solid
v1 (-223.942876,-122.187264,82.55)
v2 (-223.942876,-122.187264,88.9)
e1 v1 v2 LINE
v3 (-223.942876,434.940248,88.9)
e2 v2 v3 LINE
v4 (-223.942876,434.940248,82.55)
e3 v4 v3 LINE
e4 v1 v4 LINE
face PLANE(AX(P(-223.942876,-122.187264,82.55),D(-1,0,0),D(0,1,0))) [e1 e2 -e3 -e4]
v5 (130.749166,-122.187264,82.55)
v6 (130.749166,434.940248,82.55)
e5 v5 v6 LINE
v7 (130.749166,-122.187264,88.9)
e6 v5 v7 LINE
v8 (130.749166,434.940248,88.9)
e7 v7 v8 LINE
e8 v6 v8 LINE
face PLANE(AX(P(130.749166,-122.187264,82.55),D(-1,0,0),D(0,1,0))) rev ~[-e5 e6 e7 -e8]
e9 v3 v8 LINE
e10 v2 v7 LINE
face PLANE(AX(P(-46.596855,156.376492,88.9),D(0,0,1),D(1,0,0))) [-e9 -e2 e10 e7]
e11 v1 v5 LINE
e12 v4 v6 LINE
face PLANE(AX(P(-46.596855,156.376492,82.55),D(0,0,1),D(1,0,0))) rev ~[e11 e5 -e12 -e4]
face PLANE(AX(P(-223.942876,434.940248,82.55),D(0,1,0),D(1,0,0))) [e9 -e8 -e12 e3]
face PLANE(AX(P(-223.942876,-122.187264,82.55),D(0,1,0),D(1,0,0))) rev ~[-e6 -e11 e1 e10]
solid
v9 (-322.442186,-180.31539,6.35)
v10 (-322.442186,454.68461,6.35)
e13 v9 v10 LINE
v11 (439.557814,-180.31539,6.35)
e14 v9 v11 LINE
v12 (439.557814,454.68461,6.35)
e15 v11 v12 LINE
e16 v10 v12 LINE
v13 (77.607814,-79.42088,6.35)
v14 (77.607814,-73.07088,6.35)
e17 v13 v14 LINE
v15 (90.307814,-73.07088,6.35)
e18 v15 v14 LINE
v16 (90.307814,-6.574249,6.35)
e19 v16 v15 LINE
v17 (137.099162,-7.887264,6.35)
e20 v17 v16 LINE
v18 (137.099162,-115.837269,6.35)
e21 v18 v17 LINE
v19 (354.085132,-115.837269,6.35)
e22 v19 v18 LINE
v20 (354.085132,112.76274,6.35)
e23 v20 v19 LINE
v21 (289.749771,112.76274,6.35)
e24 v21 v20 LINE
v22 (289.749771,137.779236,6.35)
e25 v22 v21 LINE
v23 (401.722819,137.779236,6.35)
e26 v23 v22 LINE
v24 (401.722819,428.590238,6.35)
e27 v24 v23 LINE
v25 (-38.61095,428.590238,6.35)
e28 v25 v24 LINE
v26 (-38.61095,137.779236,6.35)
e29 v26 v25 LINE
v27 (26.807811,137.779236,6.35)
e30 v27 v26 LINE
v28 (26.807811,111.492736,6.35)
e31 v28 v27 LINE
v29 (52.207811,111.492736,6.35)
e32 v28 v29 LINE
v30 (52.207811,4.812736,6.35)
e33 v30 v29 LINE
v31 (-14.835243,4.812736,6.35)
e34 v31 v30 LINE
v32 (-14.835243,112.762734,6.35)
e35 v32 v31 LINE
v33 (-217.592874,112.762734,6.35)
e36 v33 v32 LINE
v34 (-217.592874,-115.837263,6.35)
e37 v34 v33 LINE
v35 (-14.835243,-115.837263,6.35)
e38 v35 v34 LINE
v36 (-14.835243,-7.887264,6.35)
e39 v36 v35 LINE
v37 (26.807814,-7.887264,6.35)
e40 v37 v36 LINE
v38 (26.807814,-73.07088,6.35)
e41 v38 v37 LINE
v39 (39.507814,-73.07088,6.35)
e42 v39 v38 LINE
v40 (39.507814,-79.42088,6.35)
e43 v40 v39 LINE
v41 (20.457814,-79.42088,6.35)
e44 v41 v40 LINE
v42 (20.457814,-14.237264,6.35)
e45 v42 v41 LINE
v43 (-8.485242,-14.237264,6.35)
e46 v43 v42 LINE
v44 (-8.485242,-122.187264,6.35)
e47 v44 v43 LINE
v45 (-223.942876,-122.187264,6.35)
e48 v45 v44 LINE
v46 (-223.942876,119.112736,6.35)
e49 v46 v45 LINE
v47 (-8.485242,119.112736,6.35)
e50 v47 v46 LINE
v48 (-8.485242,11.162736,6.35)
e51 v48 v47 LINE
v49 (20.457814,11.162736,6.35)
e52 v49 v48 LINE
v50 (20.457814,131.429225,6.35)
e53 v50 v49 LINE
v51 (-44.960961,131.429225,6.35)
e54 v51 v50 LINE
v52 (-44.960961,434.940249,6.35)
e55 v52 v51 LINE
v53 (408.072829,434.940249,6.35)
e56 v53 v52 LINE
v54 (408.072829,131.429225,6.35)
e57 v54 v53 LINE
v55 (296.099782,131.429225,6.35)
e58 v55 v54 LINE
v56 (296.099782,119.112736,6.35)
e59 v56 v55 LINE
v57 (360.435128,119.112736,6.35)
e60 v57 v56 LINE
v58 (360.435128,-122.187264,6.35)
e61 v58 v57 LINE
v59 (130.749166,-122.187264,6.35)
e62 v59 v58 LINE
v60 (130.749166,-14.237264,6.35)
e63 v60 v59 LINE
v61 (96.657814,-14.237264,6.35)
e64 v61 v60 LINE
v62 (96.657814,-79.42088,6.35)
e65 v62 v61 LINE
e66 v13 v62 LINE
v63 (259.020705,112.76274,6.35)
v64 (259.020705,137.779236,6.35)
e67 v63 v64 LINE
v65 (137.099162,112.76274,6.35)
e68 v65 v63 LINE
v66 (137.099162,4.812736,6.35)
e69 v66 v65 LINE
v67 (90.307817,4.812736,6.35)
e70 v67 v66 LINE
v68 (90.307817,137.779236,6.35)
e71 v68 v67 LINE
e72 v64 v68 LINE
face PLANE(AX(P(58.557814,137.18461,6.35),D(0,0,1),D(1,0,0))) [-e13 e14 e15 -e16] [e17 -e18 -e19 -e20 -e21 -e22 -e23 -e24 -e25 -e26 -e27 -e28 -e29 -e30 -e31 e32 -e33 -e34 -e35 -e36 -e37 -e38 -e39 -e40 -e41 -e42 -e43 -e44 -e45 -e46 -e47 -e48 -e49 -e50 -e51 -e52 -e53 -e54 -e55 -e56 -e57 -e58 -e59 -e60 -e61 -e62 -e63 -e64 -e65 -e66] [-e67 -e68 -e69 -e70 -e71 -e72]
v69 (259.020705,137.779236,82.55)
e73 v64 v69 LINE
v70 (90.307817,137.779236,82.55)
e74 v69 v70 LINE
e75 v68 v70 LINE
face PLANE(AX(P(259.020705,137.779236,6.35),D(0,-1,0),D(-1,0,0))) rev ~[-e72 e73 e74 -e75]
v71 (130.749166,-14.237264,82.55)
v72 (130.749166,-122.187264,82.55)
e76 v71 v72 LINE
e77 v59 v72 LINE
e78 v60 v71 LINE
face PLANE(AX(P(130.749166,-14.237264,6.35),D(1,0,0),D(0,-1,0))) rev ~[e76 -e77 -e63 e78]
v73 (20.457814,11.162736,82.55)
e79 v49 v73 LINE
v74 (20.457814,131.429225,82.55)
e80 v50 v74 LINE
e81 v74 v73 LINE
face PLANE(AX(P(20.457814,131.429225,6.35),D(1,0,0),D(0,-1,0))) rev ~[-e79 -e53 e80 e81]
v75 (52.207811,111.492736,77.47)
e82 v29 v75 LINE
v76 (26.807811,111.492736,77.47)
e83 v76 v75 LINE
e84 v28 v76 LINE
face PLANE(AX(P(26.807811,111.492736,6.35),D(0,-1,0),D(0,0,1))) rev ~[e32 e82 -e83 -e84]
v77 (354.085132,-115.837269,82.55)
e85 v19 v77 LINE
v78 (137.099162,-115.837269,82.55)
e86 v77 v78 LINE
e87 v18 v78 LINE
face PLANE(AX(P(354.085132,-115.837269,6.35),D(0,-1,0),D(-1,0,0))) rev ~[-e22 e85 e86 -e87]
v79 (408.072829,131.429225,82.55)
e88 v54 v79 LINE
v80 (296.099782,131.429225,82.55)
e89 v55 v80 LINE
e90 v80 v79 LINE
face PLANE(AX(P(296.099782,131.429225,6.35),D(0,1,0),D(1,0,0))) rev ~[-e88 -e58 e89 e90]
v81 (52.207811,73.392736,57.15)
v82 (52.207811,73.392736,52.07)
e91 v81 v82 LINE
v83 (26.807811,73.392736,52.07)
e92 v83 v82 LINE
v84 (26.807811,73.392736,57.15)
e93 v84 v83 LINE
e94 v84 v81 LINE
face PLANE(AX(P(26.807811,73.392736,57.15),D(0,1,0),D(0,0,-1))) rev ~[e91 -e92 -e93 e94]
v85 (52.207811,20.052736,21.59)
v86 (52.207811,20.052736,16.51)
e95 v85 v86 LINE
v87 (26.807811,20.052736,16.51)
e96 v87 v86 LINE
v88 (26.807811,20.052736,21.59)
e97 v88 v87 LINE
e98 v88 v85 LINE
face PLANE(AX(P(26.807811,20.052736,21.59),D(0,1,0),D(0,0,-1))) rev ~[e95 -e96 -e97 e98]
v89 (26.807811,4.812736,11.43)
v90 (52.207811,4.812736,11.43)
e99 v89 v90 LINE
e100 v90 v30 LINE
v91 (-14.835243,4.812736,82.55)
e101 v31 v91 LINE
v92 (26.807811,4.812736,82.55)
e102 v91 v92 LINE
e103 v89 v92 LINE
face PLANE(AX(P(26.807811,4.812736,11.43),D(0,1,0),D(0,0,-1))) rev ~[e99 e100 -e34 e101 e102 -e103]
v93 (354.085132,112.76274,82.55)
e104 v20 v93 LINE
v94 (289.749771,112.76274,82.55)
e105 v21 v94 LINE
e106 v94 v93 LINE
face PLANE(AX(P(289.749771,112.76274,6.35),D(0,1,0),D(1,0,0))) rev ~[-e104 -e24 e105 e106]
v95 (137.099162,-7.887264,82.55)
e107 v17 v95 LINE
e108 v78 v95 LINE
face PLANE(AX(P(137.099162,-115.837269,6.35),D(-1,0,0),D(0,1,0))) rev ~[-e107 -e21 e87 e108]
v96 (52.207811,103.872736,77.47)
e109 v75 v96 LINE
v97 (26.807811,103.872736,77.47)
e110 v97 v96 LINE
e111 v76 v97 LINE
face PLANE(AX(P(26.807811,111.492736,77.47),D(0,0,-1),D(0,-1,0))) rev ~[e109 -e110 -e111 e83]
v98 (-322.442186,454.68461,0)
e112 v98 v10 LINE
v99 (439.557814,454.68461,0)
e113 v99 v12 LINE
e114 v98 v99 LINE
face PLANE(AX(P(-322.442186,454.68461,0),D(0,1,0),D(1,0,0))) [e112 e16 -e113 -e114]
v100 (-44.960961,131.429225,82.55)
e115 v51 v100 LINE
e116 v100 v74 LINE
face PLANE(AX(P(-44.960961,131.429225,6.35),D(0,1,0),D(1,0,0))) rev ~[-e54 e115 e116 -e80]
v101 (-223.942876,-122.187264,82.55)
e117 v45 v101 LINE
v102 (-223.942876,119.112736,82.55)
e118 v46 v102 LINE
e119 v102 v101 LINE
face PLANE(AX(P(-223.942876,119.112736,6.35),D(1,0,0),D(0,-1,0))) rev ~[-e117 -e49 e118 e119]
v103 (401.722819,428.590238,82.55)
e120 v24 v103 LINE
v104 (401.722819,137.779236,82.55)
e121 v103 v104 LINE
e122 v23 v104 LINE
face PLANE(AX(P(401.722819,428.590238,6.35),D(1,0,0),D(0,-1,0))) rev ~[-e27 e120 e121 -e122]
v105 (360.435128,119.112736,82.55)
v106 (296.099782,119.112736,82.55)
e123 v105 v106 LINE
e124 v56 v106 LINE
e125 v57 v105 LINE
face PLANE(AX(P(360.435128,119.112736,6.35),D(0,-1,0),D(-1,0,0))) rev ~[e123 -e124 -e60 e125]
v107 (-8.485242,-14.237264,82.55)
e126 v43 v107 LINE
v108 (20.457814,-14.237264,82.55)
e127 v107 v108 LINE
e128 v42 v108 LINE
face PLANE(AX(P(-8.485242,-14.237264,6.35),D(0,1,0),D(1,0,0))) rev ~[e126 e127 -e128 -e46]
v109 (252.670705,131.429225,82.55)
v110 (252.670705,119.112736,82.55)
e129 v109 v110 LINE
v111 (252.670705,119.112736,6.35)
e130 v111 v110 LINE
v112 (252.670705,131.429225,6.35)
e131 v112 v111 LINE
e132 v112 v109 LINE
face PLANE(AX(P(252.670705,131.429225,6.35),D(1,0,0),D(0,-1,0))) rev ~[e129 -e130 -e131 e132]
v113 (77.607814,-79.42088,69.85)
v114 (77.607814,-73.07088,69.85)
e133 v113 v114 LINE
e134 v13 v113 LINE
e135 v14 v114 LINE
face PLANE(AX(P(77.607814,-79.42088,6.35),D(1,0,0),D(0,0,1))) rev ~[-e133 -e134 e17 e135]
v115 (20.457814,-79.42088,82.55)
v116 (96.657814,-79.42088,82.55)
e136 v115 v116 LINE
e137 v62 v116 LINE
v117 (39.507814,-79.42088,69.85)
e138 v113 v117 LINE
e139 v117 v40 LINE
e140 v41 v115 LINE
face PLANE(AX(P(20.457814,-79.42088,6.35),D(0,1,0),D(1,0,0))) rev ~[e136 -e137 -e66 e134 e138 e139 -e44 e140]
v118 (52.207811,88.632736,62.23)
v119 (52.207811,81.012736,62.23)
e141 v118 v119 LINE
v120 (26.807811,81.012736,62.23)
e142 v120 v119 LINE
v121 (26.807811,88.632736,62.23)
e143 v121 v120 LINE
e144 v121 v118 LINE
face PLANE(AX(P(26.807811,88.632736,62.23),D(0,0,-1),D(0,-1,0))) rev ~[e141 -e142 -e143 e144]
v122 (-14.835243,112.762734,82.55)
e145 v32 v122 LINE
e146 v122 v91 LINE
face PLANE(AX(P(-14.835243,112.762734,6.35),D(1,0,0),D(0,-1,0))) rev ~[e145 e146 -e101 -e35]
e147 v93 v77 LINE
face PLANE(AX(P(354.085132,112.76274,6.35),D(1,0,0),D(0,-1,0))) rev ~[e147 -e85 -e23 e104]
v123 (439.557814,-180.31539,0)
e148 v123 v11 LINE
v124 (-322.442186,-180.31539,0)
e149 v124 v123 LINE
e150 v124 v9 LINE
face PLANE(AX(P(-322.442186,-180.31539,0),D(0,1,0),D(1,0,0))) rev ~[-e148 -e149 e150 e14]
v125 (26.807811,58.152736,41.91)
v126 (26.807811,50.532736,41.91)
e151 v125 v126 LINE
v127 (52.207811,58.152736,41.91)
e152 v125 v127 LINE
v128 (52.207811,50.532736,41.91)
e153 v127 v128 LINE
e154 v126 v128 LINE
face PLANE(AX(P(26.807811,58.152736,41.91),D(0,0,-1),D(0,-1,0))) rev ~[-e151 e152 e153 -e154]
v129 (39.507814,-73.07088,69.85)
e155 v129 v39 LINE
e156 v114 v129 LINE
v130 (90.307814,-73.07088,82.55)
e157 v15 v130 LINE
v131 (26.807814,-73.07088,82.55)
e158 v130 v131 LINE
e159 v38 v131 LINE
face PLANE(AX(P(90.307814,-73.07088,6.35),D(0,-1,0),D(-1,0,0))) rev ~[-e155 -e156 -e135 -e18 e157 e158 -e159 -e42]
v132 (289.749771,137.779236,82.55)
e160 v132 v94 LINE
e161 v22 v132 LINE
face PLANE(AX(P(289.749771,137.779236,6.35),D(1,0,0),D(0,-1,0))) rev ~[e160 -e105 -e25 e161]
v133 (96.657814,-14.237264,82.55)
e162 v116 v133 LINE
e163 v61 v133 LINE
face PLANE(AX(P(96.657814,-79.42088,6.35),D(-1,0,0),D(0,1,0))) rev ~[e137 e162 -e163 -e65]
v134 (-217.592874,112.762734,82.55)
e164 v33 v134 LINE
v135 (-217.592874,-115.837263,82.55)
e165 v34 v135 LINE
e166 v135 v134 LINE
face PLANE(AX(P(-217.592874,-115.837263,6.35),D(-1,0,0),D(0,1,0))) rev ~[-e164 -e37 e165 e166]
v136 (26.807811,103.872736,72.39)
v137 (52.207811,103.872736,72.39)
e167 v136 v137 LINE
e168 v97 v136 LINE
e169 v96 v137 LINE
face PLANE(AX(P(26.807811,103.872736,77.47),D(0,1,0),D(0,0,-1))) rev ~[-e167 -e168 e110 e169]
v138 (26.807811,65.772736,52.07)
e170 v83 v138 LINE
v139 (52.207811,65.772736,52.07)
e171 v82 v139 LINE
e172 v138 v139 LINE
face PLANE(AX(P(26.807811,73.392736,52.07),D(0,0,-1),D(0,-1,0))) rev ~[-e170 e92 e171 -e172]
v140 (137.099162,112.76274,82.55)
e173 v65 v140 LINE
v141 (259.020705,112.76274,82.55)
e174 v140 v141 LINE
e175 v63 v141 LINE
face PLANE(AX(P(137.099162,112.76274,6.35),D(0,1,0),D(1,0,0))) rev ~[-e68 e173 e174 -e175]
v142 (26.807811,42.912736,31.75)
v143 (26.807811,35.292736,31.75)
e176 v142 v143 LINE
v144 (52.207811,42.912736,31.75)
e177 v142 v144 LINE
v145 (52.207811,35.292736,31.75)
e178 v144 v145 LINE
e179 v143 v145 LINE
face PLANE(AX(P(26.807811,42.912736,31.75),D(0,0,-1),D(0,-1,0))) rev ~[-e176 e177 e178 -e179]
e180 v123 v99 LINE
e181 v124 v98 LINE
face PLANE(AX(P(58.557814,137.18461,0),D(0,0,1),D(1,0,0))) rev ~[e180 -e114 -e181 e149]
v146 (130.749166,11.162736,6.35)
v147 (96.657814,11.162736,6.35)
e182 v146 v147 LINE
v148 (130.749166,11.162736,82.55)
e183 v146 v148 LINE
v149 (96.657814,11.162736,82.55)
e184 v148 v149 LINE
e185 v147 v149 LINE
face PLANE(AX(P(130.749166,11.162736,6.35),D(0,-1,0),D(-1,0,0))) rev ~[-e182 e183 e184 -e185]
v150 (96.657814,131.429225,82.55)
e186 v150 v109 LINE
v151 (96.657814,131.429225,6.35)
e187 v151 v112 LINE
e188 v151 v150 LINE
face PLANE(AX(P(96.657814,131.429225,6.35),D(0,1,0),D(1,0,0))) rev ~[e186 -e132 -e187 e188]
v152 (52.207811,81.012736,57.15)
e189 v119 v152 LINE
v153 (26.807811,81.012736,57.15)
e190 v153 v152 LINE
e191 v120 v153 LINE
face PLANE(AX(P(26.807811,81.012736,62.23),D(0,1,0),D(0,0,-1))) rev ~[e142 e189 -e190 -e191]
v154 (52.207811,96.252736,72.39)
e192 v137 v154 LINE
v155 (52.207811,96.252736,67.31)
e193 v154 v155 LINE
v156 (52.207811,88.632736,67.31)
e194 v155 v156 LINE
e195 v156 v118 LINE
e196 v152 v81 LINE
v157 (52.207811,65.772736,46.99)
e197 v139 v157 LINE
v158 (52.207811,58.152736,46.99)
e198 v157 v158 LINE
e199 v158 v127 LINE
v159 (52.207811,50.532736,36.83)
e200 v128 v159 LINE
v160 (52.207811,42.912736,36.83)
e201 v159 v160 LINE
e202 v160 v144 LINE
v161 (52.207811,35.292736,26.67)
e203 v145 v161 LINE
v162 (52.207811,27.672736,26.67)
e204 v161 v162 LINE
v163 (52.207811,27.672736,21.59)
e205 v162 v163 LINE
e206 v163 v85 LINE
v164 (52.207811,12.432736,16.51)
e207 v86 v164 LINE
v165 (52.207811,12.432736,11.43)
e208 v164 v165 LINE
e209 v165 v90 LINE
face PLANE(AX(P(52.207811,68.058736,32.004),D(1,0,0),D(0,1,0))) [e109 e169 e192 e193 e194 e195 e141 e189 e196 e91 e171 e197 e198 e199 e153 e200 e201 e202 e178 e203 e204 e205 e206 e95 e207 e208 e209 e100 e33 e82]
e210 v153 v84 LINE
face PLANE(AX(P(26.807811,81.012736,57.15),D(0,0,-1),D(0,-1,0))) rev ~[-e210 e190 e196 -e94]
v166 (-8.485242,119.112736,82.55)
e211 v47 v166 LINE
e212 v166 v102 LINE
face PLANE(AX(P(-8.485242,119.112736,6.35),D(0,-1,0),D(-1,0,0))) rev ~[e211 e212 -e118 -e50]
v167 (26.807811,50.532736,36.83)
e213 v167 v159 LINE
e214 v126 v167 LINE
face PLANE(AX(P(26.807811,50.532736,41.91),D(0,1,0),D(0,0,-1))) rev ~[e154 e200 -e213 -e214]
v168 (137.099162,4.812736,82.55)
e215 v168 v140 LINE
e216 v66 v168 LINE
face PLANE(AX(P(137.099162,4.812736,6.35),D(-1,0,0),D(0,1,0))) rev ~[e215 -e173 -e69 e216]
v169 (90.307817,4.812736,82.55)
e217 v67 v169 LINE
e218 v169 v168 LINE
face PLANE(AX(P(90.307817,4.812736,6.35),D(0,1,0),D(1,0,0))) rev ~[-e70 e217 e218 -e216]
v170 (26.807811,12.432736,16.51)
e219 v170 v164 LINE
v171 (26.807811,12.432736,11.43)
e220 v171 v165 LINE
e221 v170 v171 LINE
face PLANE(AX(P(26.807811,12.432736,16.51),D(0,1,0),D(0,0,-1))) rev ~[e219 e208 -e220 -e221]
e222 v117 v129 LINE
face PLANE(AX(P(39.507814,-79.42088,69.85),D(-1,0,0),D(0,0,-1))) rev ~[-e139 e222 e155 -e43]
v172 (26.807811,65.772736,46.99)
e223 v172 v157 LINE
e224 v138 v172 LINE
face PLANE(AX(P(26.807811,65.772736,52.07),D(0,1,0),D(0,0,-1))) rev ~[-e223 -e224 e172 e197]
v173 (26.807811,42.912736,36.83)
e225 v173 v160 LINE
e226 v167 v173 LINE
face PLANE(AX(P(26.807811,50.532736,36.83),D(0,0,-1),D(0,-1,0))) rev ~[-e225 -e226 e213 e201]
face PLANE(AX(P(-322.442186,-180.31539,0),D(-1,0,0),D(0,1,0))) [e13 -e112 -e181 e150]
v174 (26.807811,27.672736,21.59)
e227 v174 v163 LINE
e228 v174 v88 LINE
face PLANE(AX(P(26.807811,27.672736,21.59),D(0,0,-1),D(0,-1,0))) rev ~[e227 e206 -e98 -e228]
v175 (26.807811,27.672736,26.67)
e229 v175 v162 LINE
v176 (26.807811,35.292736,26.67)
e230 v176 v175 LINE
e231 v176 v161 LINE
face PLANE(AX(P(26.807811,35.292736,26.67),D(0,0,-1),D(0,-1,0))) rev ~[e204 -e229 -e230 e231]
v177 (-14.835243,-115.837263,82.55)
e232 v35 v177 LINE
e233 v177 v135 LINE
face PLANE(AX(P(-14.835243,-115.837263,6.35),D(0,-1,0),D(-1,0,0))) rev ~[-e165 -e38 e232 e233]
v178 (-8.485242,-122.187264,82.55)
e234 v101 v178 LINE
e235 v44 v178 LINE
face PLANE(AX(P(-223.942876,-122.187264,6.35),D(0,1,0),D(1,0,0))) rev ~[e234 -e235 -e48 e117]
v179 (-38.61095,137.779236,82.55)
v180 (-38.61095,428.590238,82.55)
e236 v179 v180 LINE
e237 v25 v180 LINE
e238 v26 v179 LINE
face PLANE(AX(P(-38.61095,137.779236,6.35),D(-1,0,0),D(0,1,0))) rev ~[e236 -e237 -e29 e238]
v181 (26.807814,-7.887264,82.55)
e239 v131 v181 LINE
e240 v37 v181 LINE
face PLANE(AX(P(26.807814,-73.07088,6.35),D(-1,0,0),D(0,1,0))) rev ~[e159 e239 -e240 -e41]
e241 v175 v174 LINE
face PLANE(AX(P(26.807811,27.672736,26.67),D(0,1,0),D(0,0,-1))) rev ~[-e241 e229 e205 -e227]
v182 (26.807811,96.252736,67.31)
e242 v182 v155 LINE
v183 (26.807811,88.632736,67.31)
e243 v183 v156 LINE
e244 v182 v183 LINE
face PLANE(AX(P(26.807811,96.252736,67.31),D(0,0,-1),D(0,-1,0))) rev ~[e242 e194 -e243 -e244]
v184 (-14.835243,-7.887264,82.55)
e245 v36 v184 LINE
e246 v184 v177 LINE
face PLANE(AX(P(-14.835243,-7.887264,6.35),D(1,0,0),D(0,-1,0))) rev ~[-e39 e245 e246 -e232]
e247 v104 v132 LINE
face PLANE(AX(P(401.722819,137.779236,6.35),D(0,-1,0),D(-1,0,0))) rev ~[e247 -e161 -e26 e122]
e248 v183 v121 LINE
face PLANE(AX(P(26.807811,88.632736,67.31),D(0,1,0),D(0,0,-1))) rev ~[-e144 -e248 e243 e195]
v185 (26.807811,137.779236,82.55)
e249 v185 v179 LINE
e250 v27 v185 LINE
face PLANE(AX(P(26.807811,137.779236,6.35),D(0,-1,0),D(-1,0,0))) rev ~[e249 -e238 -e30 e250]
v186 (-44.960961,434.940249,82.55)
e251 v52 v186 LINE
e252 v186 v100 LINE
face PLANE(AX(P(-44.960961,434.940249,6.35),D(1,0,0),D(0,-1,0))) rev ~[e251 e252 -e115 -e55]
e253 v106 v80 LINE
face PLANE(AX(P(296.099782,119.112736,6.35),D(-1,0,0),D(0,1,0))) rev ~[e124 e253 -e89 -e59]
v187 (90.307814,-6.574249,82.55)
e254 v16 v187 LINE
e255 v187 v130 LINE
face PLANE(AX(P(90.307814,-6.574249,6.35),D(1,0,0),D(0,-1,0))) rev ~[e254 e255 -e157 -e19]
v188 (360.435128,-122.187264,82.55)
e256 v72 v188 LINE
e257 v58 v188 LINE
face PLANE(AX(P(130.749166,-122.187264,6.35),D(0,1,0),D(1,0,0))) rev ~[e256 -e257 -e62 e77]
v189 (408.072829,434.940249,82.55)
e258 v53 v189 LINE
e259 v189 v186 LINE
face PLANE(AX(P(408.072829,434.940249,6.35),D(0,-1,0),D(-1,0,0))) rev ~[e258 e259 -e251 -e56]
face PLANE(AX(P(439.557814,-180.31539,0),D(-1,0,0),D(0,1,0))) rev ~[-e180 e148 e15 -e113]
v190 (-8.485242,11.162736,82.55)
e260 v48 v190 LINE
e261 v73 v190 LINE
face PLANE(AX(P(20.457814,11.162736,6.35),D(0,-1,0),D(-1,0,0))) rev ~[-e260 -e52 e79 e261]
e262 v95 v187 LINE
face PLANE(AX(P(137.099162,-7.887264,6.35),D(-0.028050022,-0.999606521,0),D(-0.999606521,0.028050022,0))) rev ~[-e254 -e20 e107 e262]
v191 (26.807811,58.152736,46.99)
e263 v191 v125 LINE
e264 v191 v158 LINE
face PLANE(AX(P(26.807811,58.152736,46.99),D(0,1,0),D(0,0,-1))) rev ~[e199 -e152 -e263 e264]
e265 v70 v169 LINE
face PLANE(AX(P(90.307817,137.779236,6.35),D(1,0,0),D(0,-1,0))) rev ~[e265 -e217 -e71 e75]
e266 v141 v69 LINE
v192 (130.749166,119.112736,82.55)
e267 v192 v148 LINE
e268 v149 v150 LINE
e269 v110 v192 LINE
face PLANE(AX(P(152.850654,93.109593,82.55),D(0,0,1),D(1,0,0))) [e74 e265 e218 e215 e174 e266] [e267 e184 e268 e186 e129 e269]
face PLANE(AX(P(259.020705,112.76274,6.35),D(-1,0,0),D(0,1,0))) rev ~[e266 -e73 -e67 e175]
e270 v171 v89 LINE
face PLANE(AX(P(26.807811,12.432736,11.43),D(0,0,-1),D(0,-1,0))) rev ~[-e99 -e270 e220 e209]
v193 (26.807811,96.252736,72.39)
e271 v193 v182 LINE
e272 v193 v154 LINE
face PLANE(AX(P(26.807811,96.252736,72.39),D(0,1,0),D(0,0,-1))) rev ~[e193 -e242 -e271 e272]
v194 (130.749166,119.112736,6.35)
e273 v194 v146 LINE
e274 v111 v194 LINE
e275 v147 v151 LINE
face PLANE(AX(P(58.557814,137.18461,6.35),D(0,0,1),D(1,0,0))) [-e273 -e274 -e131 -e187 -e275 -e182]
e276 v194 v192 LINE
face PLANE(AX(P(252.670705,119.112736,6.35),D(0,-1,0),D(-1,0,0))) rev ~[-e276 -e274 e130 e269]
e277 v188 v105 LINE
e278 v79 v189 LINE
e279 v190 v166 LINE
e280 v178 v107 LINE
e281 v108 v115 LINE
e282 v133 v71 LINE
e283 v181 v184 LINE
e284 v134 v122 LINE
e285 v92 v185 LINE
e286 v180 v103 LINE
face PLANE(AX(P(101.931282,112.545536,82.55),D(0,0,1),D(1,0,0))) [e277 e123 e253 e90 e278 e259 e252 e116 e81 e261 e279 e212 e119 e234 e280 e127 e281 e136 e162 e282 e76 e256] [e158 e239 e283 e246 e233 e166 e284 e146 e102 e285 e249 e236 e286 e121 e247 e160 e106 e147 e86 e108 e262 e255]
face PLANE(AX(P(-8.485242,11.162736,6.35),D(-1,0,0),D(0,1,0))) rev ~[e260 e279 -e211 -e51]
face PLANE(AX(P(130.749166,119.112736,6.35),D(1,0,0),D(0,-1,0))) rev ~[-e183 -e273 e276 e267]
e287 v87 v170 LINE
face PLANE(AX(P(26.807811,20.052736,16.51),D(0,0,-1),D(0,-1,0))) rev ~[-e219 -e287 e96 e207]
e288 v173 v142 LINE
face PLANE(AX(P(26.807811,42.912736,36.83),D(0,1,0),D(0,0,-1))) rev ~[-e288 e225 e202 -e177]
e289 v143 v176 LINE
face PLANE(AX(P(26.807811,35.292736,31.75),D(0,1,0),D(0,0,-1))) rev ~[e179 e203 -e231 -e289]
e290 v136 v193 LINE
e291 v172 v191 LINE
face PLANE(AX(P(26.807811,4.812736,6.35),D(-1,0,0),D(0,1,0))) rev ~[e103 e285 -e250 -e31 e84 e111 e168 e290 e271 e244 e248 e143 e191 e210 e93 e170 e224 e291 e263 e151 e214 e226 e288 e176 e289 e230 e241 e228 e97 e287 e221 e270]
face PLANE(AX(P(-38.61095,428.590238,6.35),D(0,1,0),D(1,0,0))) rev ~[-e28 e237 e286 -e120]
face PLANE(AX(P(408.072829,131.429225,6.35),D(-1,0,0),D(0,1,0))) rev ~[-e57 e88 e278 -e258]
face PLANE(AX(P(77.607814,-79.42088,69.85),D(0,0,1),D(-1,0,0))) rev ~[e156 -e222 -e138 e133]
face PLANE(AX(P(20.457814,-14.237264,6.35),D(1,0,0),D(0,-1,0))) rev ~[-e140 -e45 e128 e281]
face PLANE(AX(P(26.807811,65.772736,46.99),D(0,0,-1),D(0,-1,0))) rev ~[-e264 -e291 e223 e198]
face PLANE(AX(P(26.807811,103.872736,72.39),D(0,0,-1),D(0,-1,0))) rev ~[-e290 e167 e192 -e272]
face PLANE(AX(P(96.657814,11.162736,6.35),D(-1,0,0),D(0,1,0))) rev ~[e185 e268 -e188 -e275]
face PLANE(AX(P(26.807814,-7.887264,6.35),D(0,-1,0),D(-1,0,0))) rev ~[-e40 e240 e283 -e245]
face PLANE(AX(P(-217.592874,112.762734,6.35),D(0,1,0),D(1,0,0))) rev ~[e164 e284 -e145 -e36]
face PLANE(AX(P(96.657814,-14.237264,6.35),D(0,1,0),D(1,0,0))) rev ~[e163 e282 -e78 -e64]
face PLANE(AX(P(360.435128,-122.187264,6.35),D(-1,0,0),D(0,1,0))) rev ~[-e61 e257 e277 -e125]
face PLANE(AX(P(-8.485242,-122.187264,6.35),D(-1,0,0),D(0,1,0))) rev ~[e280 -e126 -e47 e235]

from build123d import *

# Parameters (mm, degrees)
F0_W      = 762
F0_H      = 635
F1_DEPTH  = 6.35
F3_DEPTH  = 76.2
F6_DEPTH  = 25.4
F8_DEPTH  = 25.4
F9_W      = 354.692042
F9_H      = 557.127513
F10_DEPTH = 6.35


with BuildPart() as f1:
    # F0 (on Top) → F1 (new body)
    with BuildSketch(Plane.XY):
        with Locations((58.557814, 137.18461)):
            Rectangle(F0_W, F0_H)
    extrude(amount=F1_DEPTH)

    # F2 (on face) → F3 (join)
    with BuildSketch(Plane.XY.offset(6.35)):
        Polygon((130.749166, -14.237264), (130.749166, -122.187264), (360.435128, -122.187264), (360.435128, 119.112736), (296.099782, 119.112736), (296.099782, 131.429225), (408.072829, 131.429225), (408.072829, 434.940249), (-44.960961, 434.940249), (-44.960961, 131.429225), (20.457814, 131.429225), (20.457814, 11.162736), (-8.485242, 11.162736), (-8.485242, 119.112736), (-223.942876, 119.112736), (-223.942876, -122.187264), (-8.485242, -122.187264), (-8.485242, -14.237264), (20.457814, -14.237264), (20.457814, -79.42088), (96.657814, -79.42088), (96.657814, -14.237264), align=None)
        Polygon((26.807814, -7.887264), (-14.835243, -7.887264), (-14.835243, -115.837263), (-217.592874, -115.837263), (-217.592874, 112.762734), (-14.835243, 112.762734), (-14.835243, 4.812736), (26.807811, 4.812736), (26.807811, 137.779236), (-38.61095, 137.779236), (-38.61095, 428.590238), (401.722819, 428.590238), (401.722819, 137.779236), (289.749771, 137.779236), (289.749771, 112.76274), (354.085132, 112.76274), (354.085132, -115.837269), (137.099162, -115.837269), (137.099162, -7.887264), (90.307814, -6.574249), (90.307814, -73.07088), (26.807814, -73.07088), align=None, mode=Mode.SUBTRACT)
        Polygon((137.099162, 4.812736), (137.099162, 112.76274), (259.020705, 112.76274), (259.020705, 137.779236), (90.307817, 137.779236), (90.307817, 4.812736), align=None)
        Polygon((130.749166, 11.162736), (96.657814, 11.162736), (96.657814, 131.429225), (252.670705, 131.429225), (252.670705, 119.112736), (130.749166, 119.112736), align=None, mode=Mode.SUBTRACT)
    extrude(amount=F3_DEPTH)

    # F5 (on face) → F6 (cut)
    with BuildSketch(Plane.XZ.offset(79.42088)):
        Polygon((39.507814, 6.35), (58.557814, 6.35), (77.607814, 6.35), (77.607814, 69.85), (39.507814, 69.85), align=None)
    extrude(amount=-F6_DEPTH, mode=Mode.SUBTRACT)

    # F7 (on face) → F8 (join)
    with BuildSketch(Plane.YZ.offset(26.807811)):
        Polygon((4.812736, 11.43), (4.812736, 6.35), (111.492736, 6.35), (111.492736, 77.47), (103.872736, 77.47), (103.872736, 72.39), (96.252736, 72.39), (96.252736, 67.31), (88.632736, 67.31), (88.632736, 62.23), (81.012736, 62.23), (81.012736, 57.15), (73.392736, 57.15), (73.392736, 52.07), (65.772736, 52.07), (65.772736, 46.99), (58.152736, 46.99), (58.152736, 41.91), (50.532736, 41.91), (50.532736, 36.83), (42.912736, 36.83), (42.912736, 31.75), (35.292736, 31.75), (35.292736, 26.67), (27.672736, 26.67), (27.672736, 21.59), (20.052736, 21.59), (20.052736, 16.51), (12.432736, 16.51), (12.432736, 11.43), align=None)
    extrude(amount=F8_DEPTH)


with BuildPart() as f10:
    # F9 (on face) → F10 (new body)
    with BuildSketch(Plane.XY.offset(82.55)):
        with Locations((-46.596855, 156.376492)):
            Rectangle(F9_W, F9_H)
    extrude(amount=F10_DEPTH)


solid = Compound([f1.part, f10.part])
